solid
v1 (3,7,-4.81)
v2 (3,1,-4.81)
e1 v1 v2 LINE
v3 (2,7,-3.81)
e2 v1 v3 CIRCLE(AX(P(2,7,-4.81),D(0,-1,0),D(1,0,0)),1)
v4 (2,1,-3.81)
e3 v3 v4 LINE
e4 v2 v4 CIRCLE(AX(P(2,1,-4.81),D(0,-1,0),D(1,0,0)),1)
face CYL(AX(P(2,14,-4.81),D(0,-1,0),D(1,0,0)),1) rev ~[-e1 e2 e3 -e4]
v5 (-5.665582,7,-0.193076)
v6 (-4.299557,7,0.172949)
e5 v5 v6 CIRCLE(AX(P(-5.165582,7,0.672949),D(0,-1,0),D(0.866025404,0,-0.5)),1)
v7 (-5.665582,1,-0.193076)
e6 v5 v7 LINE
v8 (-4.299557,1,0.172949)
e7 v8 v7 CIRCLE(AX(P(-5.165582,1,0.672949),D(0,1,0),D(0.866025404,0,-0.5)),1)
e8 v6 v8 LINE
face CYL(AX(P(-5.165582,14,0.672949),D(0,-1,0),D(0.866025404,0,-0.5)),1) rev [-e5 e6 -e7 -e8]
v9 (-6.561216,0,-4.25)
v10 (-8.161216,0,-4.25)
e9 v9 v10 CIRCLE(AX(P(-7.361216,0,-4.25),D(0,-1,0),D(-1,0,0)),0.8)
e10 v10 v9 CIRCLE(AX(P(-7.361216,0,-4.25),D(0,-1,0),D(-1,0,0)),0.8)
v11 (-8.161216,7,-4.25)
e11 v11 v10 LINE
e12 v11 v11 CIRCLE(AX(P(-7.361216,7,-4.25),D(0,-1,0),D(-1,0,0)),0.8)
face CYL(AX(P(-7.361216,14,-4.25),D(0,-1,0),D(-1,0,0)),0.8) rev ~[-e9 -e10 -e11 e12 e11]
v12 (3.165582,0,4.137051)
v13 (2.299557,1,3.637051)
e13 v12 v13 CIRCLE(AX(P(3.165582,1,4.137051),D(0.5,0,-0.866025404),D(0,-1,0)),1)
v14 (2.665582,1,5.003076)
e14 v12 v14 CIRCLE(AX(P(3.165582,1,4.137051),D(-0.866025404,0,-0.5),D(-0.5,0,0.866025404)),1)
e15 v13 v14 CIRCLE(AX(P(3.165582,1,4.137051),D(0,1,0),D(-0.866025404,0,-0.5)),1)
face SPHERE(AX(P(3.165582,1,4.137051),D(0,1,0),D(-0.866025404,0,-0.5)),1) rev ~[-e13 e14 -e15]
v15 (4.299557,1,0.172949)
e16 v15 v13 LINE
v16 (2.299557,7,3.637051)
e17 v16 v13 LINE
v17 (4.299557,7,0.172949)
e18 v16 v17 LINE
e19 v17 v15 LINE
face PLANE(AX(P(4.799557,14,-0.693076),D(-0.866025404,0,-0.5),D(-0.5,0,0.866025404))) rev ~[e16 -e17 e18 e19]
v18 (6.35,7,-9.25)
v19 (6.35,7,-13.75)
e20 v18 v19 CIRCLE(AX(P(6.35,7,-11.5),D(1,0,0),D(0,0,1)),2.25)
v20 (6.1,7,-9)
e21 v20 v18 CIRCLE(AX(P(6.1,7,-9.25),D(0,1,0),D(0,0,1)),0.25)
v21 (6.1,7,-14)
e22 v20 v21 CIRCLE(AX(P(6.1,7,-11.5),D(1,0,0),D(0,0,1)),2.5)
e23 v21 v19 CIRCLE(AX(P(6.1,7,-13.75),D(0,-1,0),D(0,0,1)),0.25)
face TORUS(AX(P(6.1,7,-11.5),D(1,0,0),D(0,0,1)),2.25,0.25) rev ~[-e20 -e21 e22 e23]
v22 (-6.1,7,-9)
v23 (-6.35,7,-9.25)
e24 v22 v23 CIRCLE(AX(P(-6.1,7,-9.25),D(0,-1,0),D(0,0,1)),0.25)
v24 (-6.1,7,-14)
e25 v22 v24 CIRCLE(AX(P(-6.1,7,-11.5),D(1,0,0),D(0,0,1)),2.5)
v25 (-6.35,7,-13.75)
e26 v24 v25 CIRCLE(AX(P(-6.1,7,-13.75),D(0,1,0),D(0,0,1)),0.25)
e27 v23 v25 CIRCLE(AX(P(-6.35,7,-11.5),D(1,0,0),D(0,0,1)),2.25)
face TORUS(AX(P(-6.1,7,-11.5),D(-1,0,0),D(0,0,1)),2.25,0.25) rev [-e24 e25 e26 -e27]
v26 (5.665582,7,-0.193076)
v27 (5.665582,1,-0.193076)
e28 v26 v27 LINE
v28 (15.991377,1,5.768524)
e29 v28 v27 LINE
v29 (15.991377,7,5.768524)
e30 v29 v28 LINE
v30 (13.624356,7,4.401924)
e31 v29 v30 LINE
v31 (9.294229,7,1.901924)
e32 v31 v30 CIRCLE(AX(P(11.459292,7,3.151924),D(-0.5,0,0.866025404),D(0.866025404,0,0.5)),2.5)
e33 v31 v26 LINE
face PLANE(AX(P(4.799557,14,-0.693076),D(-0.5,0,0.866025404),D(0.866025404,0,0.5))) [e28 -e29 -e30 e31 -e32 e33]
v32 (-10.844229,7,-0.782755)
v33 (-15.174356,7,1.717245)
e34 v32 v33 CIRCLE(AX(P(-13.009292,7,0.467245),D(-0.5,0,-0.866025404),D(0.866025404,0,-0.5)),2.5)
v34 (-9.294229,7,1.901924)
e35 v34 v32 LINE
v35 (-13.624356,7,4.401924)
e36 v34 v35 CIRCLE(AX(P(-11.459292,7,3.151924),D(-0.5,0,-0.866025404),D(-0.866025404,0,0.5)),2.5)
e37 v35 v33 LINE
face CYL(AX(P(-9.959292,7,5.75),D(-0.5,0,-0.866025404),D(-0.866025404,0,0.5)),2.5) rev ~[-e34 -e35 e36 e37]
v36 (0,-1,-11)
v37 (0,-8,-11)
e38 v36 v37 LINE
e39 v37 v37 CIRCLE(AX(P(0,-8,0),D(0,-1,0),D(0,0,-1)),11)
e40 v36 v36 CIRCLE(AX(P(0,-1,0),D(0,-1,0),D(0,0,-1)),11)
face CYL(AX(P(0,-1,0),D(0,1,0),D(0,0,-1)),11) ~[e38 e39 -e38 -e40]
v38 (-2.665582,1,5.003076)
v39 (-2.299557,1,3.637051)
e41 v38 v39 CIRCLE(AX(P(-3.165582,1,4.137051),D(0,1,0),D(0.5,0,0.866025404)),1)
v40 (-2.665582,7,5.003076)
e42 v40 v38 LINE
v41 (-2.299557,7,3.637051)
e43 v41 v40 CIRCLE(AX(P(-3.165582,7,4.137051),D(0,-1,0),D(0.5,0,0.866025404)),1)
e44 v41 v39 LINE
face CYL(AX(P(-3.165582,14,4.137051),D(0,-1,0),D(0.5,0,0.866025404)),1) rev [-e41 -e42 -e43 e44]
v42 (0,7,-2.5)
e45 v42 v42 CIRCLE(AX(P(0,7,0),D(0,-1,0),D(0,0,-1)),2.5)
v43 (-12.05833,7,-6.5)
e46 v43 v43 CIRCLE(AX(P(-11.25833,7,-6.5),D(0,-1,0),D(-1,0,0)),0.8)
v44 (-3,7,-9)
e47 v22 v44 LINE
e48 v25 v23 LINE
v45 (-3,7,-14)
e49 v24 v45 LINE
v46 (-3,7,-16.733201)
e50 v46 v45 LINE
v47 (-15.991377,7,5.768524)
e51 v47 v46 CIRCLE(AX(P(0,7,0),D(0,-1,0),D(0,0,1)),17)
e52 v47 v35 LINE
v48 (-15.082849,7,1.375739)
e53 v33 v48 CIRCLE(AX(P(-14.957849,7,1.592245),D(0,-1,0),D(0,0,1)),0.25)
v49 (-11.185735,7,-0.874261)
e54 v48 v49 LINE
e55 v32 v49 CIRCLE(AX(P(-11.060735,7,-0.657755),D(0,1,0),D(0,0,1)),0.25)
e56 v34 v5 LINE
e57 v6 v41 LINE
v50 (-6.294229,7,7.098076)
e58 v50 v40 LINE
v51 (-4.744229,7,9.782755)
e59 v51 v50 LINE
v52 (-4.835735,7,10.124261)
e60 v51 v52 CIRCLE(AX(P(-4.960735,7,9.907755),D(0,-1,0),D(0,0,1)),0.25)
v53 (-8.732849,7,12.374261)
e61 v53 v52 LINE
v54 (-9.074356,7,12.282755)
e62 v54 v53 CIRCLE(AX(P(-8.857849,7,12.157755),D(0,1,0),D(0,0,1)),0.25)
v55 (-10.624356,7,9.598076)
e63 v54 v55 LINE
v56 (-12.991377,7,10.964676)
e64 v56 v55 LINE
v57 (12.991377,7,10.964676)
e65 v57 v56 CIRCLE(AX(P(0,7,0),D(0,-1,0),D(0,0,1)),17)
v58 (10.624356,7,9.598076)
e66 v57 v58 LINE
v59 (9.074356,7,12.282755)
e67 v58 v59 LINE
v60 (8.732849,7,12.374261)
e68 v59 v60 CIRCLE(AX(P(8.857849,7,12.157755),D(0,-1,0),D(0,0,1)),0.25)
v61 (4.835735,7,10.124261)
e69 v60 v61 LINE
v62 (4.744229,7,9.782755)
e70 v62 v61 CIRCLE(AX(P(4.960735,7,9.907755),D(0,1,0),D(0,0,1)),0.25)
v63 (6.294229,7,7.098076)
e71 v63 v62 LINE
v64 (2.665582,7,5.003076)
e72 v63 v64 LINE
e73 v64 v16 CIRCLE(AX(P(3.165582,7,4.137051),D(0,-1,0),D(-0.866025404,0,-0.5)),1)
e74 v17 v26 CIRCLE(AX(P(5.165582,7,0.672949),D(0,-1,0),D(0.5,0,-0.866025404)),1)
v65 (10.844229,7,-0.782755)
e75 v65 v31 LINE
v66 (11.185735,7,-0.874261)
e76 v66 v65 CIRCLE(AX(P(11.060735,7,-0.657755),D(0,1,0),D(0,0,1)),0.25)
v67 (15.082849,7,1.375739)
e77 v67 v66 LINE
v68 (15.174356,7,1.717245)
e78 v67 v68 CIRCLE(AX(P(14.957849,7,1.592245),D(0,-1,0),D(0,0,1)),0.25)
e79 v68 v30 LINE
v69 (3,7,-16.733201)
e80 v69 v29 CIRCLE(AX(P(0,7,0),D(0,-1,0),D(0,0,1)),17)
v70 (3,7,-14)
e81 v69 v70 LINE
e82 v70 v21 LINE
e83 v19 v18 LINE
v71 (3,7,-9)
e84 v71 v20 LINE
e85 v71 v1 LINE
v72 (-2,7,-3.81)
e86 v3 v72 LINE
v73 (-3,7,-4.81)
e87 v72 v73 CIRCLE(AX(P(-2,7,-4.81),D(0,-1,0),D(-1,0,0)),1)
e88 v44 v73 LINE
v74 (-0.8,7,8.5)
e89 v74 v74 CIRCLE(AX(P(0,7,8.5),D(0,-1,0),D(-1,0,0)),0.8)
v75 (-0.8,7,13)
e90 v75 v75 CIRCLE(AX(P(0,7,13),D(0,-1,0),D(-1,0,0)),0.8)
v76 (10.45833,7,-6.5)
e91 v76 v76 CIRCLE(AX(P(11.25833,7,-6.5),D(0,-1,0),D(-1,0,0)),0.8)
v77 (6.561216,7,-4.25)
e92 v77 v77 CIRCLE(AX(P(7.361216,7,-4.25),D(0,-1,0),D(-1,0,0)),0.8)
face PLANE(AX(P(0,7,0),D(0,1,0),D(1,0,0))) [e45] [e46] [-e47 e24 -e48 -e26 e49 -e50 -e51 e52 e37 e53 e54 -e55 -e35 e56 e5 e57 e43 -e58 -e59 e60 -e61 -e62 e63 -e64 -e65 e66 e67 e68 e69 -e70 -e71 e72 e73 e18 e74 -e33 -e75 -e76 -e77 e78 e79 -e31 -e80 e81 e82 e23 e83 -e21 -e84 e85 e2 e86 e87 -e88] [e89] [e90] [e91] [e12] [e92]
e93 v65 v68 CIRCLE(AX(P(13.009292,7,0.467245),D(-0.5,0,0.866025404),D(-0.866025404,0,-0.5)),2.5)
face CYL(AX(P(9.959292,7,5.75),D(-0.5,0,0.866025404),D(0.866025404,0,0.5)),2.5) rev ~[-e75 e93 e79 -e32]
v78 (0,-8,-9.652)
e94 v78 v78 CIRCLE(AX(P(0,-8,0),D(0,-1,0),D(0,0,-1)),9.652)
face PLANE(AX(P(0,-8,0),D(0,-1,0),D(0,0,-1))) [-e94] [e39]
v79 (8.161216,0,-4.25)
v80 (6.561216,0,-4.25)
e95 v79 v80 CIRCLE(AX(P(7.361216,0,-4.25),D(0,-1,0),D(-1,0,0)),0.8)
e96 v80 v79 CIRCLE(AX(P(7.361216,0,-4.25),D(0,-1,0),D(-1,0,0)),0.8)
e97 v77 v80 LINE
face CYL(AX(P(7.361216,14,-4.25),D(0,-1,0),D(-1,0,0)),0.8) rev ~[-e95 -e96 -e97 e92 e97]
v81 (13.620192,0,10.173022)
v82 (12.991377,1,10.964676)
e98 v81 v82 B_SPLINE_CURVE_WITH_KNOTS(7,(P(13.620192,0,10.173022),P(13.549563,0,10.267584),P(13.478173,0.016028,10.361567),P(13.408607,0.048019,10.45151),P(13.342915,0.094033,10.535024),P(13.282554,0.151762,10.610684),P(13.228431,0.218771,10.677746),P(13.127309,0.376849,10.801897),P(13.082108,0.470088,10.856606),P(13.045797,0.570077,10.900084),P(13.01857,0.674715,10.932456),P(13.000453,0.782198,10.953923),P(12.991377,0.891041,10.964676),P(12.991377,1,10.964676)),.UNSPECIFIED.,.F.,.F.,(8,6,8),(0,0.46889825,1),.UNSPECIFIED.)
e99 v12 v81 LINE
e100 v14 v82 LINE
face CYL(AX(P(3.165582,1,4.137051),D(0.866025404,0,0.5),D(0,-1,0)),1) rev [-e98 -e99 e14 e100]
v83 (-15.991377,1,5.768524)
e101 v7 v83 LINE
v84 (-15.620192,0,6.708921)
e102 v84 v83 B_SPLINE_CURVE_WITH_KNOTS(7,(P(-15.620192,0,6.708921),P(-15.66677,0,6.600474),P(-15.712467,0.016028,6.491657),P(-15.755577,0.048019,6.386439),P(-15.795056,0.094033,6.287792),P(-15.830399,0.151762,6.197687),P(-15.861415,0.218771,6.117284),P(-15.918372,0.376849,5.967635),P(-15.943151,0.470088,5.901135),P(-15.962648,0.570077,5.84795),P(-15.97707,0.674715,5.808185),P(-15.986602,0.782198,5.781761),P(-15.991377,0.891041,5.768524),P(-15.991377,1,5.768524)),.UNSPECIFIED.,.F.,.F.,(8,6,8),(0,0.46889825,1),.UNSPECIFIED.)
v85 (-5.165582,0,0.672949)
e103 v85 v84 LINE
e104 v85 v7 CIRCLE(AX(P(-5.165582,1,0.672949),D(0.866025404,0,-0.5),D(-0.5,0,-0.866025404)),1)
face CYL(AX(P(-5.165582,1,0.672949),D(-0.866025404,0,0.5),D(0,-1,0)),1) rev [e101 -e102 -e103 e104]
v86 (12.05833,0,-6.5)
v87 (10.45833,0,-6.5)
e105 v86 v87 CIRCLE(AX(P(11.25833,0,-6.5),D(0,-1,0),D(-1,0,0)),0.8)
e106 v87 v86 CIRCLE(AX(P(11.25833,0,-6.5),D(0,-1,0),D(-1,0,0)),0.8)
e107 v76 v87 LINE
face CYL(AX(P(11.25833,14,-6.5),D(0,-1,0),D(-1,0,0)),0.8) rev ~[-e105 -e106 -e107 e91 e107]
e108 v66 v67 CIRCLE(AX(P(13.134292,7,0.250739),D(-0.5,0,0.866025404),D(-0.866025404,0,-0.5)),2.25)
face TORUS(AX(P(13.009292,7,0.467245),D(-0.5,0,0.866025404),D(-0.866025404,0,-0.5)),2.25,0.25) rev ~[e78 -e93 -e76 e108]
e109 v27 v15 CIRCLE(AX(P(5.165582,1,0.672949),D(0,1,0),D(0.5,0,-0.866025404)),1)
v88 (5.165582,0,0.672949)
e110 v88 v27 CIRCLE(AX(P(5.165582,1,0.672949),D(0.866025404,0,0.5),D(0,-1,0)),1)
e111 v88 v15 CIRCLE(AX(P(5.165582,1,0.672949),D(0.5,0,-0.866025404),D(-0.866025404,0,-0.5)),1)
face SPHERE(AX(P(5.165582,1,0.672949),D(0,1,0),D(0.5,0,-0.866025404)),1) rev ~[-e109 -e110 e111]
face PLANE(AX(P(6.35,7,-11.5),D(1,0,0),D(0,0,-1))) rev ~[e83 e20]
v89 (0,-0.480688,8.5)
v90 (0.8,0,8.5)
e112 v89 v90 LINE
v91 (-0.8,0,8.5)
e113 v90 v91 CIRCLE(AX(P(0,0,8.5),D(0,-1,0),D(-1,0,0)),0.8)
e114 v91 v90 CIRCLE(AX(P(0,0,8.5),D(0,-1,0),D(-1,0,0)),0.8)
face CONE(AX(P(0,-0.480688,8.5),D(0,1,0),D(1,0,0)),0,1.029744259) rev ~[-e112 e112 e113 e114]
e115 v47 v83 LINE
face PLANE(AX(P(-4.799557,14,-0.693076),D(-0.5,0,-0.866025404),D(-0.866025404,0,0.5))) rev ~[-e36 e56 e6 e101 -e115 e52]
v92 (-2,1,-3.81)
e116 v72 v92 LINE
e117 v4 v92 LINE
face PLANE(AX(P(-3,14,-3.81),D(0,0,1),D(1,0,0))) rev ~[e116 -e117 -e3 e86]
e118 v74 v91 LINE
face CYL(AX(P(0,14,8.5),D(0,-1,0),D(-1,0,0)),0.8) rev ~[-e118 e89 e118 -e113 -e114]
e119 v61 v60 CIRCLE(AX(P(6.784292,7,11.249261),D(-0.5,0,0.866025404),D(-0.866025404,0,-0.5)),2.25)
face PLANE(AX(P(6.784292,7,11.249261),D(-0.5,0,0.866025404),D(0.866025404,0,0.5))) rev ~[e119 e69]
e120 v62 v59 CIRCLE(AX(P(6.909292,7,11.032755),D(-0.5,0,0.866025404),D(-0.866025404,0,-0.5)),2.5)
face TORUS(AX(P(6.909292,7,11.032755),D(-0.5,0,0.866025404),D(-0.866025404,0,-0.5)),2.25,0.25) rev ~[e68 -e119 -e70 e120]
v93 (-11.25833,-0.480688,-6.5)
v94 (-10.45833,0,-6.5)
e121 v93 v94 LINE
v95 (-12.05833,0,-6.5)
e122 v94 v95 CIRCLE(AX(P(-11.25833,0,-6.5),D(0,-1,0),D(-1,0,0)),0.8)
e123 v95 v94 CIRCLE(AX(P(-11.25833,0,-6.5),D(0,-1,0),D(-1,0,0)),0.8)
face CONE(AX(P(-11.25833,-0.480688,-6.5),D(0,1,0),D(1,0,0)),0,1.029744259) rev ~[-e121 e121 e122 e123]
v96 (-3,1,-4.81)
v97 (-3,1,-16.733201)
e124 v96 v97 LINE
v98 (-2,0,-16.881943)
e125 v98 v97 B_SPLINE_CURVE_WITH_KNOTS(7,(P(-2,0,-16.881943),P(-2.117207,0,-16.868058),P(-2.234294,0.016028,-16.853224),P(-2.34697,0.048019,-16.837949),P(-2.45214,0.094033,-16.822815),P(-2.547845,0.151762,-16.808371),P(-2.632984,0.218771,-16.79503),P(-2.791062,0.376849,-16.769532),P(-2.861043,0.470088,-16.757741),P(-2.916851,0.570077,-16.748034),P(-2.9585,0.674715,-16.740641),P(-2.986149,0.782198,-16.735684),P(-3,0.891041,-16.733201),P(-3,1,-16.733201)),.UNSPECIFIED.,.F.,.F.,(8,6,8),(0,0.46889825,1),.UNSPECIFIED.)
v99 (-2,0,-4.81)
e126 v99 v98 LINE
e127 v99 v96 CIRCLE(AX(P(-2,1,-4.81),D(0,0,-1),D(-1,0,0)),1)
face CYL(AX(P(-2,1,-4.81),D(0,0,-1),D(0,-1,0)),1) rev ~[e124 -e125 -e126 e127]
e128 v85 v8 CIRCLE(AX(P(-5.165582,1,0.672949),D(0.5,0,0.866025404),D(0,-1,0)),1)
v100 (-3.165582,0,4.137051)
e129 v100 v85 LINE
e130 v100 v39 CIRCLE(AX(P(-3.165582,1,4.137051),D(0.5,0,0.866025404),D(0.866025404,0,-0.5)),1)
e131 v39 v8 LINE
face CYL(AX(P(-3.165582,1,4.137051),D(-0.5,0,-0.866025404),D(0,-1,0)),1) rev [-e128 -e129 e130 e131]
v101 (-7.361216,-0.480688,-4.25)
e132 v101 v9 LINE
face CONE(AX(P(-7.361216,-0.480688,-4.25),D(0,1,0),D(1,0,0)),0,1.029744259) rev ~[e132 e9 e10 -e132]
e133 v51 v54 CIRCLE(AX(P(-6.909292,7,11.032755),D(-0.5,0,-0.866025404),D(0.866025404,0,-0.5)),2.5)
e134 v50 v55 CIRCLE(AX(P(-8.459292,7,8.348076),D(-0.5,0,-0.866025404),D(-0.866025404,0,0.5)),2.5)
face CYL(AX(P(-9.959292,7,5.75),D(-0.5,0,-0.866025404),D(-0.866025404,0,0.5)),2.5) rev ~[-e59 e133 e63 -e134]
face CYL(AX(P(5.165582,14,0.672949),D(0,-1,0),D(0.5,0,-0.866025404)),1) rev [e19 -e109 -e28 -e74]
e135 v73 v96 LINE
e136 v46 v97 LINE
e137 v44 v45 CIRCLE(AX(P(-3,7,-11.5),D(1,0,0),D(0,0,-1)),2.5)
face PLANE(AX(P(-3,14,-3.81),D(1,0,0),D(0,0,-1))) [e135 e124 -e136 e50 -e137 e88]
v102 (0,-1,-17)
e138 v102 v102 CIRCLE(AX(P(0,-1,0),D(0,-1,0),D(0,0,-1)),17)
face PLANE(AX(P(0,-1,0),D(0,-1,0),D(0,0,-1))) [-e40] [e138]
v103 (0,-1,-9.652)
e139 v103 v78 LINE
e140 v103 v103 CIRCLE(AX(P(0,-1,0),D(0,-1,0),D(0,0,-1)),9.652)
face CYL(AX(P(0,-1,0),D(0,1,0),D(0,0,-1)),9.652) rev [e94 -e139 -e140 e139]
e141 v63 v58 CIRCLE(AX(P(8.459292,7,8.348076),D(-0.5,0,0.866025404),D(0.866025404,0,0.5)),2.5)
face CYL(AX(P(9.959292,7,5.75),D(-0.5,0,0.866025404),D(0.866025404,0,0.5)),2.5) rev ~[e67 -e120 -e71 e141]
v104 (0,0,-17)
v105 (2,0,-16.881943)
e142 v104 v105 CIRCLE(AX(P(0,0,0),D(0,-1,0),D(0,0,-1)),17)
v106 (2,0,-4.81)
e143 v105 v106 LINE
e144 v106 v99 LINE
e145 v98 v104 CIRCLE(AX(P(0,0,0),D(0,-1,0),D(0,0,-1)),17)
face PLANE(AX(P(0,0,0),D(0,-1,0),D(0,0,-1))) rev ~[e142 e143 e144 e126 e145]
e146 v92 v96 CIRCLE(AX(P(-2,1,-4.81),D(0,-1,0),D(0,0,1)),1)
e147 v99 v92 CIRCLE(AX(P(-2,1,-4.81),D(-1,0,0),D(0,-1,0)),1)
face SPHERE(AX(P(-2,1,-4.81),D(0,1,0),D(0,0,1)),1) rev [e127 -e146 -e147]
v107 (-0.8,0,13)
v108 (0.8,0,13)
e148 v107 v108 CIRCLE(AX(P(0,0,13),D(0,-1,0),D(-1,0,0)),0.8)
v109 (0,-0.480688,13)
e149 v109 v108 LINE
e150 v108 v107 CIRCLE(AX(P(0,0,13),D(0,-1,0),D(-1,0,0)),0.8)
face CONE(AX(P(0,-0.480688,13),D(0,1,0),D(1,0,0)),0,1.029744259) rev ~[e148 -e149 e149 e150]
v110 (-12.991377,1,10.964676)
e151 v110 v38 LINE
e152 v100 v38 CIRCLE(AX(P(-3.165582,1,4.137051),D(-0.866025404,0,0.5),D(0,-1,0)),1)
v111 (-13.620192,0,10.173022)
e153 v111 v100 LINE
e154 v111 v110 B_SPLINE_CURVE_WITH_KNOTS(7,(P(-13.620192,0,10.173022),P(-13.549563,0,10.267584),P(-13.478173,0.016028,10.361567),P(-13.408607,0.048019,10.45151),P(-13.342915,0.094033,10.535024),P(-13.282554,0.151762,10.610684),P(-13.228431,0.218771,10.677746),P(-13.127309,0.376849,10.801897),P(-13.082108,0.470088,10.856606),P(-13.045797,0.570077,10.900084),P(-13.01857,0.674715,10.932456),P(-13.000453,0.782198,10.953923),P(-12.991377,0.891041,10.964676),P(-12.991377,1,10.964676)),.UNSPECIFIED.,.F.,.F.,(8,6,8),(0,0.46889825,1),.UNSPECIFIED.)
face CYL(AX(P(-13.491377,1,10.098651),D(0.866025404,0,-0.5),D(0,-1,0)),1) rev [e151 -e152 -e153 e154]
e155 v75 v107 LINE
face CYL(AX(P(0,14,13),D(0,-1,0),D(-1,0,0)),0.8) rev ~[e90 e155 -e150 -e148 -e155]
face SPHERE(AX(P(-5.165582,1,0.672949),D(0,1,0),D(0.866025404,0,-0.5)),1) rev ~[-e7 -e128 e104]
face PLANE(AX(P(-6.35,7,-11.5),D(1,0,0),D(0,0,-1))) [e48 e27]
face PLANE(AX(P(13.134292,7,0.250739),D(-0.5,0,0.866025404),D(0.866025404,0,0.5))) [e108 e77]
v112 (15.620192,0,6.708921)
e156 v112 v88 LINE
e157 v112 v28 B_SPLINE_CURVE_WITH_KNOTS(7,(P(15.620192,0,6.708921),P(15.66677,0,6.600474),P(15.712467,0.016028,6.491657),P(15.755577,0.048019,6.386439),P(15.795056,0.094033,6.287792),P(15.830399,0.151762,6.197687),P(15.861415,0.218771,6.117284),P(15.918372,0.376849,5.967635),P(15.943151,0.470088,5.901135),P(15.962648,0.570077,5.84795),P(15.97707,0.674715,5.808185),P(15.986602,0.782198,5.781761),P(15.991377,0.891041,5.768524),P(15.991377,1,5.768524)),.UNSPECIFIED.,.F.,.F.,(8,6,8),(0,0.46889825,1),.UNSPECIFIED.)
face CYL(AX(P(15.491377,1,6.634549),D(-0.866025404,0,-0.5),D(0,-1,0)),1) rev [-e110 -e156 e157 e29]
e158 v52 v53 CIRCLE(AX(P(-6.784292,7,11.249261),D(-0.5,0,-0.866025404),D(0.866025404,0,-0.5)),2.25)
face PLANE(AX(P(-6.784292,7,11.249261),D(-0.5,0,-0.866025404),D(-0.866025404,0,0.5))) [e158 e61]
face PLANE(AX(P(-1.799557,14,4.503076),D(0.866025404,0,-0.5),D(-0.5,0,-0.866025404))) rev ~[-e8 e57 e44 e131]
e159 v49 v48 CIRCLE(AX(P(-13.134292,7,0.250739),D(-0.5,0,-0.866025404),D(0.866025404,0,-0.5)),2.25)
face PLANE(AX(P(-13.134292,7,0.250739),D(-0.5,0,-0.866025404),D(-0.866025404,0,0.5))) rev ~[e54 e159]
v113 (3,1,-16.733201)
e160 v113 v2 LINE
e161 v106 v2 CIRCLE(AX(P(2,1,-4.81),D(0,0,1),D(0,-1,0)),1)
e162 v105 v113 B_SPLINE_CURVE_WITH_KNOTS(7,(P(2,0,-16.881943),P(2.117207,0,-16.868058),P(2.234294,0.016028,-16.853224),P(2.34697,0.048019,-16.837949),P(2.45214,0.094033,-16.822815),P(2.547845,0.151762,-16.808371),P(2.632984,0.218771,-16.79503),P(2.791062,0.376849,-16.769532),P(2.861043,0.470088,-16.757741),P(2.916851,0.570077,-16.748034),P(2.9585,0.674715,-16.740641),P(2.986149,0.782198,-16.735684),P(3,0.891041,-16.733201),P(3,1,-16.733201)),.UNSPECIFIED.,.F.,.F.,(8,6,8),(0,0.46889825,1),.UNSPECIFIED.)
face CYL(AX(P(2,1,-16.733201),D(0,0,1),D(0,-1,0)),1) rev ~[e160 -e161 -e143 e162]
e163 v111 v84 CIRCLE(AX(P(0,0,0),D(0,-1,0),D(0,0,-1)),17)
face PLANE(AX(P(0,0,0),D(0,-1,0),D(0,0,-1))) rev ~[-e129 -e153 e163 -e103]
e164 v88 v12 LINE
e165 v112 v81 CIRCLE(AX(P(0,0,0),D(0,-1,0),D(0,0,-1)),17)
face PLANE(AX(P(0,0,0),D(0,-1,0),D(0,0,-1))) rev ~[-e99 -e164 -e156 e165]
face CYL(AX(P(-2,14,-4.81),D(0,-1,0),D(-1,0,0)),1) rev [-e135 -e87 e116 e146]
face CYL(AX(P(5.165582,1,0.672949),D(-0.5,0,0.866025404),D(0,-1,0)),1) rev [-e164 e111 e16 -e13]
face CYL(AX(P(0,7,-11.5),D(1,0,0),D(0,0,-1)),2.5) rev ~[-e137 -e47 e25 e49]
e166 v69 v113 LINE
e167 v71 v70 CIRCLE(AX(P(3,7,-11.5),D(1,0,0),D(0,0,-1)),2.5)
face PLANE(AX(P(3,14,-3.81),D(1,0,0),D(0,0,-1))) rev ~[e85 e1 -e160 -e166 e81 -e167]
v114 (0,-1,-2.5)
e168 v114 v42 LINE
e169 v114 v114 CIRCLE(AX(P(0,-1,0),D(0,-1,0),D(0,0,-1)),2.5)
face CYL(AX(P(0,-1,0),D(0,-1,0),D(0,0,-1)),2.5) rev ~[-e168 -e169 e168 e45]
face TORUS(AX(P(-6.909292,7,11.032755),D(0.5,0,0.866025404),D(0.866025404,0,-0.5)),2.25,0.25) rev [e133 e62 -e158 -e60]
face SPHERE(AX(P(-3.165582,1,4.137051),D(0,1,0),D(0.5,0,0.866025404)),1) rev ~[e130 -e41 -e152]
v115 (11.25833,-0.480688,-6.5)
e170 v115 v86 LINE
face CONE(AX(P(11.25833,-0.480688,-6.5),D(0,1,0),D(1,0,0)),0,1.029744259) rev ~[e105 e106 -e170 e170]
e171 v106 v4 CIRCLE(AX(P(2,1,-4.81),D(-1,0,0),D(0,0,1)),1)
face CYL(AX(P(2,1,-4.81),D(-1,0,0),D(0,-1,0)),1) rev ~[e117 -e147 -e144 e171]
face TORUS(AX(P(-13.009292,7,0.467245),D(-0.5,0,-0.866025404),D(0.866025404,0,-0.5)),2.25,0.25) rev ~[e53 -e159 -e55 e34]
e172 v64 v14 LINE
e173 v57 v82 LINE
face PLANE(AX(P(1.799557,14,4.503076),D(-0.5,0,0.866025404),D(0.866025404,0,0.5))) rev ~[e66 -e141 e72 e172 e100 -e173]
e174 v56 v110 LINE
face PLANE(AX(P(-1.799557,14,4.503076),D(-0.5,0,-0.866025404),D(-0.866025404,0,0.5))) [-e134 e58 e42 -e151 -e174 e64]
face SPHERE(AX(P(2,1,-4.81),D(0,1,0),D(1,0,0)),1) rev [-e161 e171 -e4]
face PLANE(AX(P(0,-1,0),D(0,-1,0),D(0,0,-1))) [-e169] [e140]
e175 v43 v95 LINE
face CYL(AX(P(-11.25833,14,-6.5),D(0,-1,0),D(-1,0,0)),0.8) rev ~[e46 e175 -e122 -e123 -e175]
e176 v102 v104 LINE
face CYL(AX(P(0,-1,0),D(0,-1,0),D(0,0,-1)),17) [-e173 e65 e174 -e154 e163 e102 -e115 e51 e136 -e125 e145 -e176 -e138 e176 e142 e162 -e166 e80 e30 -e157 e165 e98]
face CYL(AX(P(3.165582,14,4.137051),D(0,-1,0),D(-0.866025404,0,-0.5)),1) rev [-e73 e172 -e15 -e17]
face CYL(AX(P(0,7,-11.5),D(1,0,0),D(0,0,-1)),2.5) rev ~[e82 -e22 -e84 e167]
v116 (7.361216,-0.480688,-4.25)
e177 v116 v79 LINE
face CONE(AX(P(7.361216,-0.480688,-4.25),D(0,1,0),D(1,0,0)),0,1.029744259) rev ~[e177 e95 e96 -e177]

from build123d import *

# Parameters (mm, degrees)
SKETCH1_R                 = 17
BOSS_EXTRUDE1_DEPTH       = 14
SKETCH9_W                 = 6
SKETCH9_H                 = 13.19
CUT_EXTRUDE1_DEPTH        = 28.820855486
SKETCH10_R                = 2.5
CUT_EXTRUDE2_DEPTH        = 6.35
FILLET2_R                 = 1
CIRPATTERN2_COUNT         = 3
FILLET2_OF_CIRPATTERN2_R  = 1
SKETCH12_R                = 20
CUT_EXTRUDE3_DEPTH        = 10
BOSS_EXTRUDE2_START       = 1
SKETCH13_R                = 17
BOSS_EXTRUDE2_DEPTH       = 1
M2X0_4_TAPPED_HOLE3_D     = 1.6
M2X0_4_TAPPED_HOLE3_DEPTH = 7
M2X0_4_TAPPED_HOLE3_TIP   = 0.480688495
FILLET3_R                 = 1
SKETCH14_R                = 11
SKETCH14_R_2              = 9.652
BOSS_EXTRUDE3_DEPTH       = 7
SKETCH20_R                = 2.5
CUT_EXTRUDE5_DEPTH        = 8
FILLET4_R                 = 0.25


with BuildPart() as part:
    # Sketch1 → Boss-Extrude1 (new body)
    with BuildSketch(Plane(origin=(0, 0, 0), x_dir=(1, 0, 0), z_dir=(0, 1, 0))):
        with Locations(Location((0, 0, 0), (0, 0, 270))):
            Circle(SKETCH1_R)
    extrude(amount=BOSS_EXTRUDE1_DEPTH)

    # Sketch9 → Cut-Extrude1 (cut, through all)
    with BuildSketch(Plane(origin=(0, 14, 0), x_dir=(1, 0, 0), z_dir=(0, 1, 0))):
        with Locations((0, 10.405)):
            Rectangle(SKETCH9_W, SKETCH9_H)
    cut_extrude1 = extrude(amount=-CUT_EXTRUDE1_DEPTH, mode=Mode.SUBTRACT)

    # Sketch10 → Cut-Extrude2 (cut, symmetric)
    with BuildSketch(Plane(origin=(0, 0, 0), x_dir=(0, 0, -1), z_dir=(1, 0, 0))):
        with Locations((11.5, 7)):
            Circle(SKETCH10_R)
    cut_extrude2 = extrude(amount=CUT_EXTRUDE2_DEPTH, both=True, mode=Mode.SUBTRACT)

    # Fillet2
    fillet2_edges = [part.edges().sort_by_distance(p)[0] for p in [
        (-3, 7, -3.81),
        (3, 7, -3.81),
    ]]
    fillet(fillet2_edges, radius=FILLET2_R)

    # CirPattern2: Cut-Extrude1, Cut-Extrude2 ×3 about axis
    cirpattern2_axis = Axis((0, 0, 0), (0, 1, 0))
    add([cut_extrude1.rotate(cirpattern2_axis, i * 360 / CIRPATTERN2_COUNT) for i in range(1, CIRPATTERN2_COUNT)], mode=Mode.SUBTRACT)
    add([cut_extrude2.rotate(cirpattern2_axis, i * 360 / CIRPATTERN2_COUNT) for i in range(1, CIRPATTERN2_COUNT)], mode=Mode.SUBTRACT)

    # Fillet2 of CirPattern2
    fillet2_of_cirpattern2_edges = [part.edges().sort_by_distance(p)[0] for p in [
        (-1.799556788, 7, 4.503076211),
        (-4.799556788, 7, -0.693076211),
        (4.799556788, 7, -0.693076211),
        (1.799556788, 7, 4.503076211),
    ]]
    fillet(fillet2_of_cirpattern2_edges, radius=FILLET2_OF_CIRPATTERN2_R)

    # Sketch12 → Cut-Extrude3 (cut)
    with BuildSketch(Plane(origin=(0, 7, 0), x_dir=(1, 0, 0), z_dir=(0, 1, 0))):
        Circle(SKETCH12_R)
    extrude(amount=CUT_EXTRUDE3_DEPTH, mode=Mode.SUBTRACT)

    # Sketch13 → Boss-Extrude2 (add)
    with BuildSketch(Plane.XZ.offset(BOSS_EXTRUDE2_START)):
        with Locations(Location((0, 0, 0), (0, 0, 270))):
            Circle(SKETCH13_R)
    extrude(amount=-BOSS_EXTRUDE2_DEPTH)

    # M2x0.4 Tapped Hole3
    with Locations(Plane(origin=(0, 7, 0), x_dir=(1, 0, 0), z_dir=(0, 1, 0))):
        with Locations((-11.258330249, 6.5), (11.258330249, 6.5), (0, -13), (-7.361215932, 4.25), (7.361215932, 4.25), (0, -8.5)):
            Hole(M2X0_4_TAPPED_HOLE3_D / 2, depth=M2X0_4_TAPPED_HOLE3_DEPTH)
            with Locations((0, 0, -(M2X0_4_TAPPED_HOLE3_DEPTH + M2X0_4_TAPPED_HOLE3_TIP / 2))):  # 118° drill point
                Cone(0, M2X0_4_TAPPED_HOLE3_D / 2, M2X0_4_TAPPED_HOLE3_TIP, mode=Mode.SUBTRACT)

    # Fillet3
    fillet3_edges = [part.edges().sort_by_distance(p)[0] for p in [
        (-10.828479469, 0, 2.787723921),
        (-4.906763147, 0, -0.292976634),
        (-3.299556788, 0, 1.905),
        (-2.199656366, 0, 4.395869853),
        (7.828479469, 0, 7.983876344),
        (2.199656366, 0, 4.395869853),
        (10.828479469, 0, 2.787723921),
        (4.906763147, 0, -0.292976634),
        (-3, 0, -10.771600265),
        (-2.707106781, 0, -4.102893219),
        (0, 0, -3.81),
        (2.707106781, 0, -4.102893219),
        (-7.828479469, 0, 7.983876344),
        (3.299556788, 0, 1.905),
        (3, 0, -10.771600265),
    ]]
    fillet(fillet3_edges, radius=FILLET3_R)

    # Sketch14 → Boss-Extrude3 (add)
    with BuildSketch(Plane.XZ.offset(1)):
        with Locations(Location((0, 0, 0), (0, 0, 270))):
            Circle(SKETCH14_R)
        with Locations(Location((0, 0, 0), (0, 0, 270))):
            Circle(SKETCH14_R_2, mode=Mode.SUBTRACT)
    extrude(amount=BOSS_EXTRUDE3_DEPTH)

    # Sketch20 → Cut-Extrude5 (cut)
    with BuildSketch(Plane.XZ.offset(1)):
        with Locations(Location((0, 0, 0), (0, 0, 270))):
            Circle(SKETCH20_R)
    extrude(amount=-CUT_EXTRUDE5_DEPTH, mode=Mode.SUBTRACT)

    # Fillet4
    fillet4_edges = [part.edges().sort_by_distance(p)[0] for p in [
        (-6.784292144, 4.5, 11.249261314),
        (-13.134292144, 4.5, 0.250738686),
        (13.134292144, 4.5, 0.250738686),
        (6.784292144, 4.5, 11.249261314),
        (-6.35, 4.5, -11.5),
        (6.35, 4.5, -11.5),
    ]]
    fillet(fillet4_edges, radius=FILLET4_R)


solid = part.part
